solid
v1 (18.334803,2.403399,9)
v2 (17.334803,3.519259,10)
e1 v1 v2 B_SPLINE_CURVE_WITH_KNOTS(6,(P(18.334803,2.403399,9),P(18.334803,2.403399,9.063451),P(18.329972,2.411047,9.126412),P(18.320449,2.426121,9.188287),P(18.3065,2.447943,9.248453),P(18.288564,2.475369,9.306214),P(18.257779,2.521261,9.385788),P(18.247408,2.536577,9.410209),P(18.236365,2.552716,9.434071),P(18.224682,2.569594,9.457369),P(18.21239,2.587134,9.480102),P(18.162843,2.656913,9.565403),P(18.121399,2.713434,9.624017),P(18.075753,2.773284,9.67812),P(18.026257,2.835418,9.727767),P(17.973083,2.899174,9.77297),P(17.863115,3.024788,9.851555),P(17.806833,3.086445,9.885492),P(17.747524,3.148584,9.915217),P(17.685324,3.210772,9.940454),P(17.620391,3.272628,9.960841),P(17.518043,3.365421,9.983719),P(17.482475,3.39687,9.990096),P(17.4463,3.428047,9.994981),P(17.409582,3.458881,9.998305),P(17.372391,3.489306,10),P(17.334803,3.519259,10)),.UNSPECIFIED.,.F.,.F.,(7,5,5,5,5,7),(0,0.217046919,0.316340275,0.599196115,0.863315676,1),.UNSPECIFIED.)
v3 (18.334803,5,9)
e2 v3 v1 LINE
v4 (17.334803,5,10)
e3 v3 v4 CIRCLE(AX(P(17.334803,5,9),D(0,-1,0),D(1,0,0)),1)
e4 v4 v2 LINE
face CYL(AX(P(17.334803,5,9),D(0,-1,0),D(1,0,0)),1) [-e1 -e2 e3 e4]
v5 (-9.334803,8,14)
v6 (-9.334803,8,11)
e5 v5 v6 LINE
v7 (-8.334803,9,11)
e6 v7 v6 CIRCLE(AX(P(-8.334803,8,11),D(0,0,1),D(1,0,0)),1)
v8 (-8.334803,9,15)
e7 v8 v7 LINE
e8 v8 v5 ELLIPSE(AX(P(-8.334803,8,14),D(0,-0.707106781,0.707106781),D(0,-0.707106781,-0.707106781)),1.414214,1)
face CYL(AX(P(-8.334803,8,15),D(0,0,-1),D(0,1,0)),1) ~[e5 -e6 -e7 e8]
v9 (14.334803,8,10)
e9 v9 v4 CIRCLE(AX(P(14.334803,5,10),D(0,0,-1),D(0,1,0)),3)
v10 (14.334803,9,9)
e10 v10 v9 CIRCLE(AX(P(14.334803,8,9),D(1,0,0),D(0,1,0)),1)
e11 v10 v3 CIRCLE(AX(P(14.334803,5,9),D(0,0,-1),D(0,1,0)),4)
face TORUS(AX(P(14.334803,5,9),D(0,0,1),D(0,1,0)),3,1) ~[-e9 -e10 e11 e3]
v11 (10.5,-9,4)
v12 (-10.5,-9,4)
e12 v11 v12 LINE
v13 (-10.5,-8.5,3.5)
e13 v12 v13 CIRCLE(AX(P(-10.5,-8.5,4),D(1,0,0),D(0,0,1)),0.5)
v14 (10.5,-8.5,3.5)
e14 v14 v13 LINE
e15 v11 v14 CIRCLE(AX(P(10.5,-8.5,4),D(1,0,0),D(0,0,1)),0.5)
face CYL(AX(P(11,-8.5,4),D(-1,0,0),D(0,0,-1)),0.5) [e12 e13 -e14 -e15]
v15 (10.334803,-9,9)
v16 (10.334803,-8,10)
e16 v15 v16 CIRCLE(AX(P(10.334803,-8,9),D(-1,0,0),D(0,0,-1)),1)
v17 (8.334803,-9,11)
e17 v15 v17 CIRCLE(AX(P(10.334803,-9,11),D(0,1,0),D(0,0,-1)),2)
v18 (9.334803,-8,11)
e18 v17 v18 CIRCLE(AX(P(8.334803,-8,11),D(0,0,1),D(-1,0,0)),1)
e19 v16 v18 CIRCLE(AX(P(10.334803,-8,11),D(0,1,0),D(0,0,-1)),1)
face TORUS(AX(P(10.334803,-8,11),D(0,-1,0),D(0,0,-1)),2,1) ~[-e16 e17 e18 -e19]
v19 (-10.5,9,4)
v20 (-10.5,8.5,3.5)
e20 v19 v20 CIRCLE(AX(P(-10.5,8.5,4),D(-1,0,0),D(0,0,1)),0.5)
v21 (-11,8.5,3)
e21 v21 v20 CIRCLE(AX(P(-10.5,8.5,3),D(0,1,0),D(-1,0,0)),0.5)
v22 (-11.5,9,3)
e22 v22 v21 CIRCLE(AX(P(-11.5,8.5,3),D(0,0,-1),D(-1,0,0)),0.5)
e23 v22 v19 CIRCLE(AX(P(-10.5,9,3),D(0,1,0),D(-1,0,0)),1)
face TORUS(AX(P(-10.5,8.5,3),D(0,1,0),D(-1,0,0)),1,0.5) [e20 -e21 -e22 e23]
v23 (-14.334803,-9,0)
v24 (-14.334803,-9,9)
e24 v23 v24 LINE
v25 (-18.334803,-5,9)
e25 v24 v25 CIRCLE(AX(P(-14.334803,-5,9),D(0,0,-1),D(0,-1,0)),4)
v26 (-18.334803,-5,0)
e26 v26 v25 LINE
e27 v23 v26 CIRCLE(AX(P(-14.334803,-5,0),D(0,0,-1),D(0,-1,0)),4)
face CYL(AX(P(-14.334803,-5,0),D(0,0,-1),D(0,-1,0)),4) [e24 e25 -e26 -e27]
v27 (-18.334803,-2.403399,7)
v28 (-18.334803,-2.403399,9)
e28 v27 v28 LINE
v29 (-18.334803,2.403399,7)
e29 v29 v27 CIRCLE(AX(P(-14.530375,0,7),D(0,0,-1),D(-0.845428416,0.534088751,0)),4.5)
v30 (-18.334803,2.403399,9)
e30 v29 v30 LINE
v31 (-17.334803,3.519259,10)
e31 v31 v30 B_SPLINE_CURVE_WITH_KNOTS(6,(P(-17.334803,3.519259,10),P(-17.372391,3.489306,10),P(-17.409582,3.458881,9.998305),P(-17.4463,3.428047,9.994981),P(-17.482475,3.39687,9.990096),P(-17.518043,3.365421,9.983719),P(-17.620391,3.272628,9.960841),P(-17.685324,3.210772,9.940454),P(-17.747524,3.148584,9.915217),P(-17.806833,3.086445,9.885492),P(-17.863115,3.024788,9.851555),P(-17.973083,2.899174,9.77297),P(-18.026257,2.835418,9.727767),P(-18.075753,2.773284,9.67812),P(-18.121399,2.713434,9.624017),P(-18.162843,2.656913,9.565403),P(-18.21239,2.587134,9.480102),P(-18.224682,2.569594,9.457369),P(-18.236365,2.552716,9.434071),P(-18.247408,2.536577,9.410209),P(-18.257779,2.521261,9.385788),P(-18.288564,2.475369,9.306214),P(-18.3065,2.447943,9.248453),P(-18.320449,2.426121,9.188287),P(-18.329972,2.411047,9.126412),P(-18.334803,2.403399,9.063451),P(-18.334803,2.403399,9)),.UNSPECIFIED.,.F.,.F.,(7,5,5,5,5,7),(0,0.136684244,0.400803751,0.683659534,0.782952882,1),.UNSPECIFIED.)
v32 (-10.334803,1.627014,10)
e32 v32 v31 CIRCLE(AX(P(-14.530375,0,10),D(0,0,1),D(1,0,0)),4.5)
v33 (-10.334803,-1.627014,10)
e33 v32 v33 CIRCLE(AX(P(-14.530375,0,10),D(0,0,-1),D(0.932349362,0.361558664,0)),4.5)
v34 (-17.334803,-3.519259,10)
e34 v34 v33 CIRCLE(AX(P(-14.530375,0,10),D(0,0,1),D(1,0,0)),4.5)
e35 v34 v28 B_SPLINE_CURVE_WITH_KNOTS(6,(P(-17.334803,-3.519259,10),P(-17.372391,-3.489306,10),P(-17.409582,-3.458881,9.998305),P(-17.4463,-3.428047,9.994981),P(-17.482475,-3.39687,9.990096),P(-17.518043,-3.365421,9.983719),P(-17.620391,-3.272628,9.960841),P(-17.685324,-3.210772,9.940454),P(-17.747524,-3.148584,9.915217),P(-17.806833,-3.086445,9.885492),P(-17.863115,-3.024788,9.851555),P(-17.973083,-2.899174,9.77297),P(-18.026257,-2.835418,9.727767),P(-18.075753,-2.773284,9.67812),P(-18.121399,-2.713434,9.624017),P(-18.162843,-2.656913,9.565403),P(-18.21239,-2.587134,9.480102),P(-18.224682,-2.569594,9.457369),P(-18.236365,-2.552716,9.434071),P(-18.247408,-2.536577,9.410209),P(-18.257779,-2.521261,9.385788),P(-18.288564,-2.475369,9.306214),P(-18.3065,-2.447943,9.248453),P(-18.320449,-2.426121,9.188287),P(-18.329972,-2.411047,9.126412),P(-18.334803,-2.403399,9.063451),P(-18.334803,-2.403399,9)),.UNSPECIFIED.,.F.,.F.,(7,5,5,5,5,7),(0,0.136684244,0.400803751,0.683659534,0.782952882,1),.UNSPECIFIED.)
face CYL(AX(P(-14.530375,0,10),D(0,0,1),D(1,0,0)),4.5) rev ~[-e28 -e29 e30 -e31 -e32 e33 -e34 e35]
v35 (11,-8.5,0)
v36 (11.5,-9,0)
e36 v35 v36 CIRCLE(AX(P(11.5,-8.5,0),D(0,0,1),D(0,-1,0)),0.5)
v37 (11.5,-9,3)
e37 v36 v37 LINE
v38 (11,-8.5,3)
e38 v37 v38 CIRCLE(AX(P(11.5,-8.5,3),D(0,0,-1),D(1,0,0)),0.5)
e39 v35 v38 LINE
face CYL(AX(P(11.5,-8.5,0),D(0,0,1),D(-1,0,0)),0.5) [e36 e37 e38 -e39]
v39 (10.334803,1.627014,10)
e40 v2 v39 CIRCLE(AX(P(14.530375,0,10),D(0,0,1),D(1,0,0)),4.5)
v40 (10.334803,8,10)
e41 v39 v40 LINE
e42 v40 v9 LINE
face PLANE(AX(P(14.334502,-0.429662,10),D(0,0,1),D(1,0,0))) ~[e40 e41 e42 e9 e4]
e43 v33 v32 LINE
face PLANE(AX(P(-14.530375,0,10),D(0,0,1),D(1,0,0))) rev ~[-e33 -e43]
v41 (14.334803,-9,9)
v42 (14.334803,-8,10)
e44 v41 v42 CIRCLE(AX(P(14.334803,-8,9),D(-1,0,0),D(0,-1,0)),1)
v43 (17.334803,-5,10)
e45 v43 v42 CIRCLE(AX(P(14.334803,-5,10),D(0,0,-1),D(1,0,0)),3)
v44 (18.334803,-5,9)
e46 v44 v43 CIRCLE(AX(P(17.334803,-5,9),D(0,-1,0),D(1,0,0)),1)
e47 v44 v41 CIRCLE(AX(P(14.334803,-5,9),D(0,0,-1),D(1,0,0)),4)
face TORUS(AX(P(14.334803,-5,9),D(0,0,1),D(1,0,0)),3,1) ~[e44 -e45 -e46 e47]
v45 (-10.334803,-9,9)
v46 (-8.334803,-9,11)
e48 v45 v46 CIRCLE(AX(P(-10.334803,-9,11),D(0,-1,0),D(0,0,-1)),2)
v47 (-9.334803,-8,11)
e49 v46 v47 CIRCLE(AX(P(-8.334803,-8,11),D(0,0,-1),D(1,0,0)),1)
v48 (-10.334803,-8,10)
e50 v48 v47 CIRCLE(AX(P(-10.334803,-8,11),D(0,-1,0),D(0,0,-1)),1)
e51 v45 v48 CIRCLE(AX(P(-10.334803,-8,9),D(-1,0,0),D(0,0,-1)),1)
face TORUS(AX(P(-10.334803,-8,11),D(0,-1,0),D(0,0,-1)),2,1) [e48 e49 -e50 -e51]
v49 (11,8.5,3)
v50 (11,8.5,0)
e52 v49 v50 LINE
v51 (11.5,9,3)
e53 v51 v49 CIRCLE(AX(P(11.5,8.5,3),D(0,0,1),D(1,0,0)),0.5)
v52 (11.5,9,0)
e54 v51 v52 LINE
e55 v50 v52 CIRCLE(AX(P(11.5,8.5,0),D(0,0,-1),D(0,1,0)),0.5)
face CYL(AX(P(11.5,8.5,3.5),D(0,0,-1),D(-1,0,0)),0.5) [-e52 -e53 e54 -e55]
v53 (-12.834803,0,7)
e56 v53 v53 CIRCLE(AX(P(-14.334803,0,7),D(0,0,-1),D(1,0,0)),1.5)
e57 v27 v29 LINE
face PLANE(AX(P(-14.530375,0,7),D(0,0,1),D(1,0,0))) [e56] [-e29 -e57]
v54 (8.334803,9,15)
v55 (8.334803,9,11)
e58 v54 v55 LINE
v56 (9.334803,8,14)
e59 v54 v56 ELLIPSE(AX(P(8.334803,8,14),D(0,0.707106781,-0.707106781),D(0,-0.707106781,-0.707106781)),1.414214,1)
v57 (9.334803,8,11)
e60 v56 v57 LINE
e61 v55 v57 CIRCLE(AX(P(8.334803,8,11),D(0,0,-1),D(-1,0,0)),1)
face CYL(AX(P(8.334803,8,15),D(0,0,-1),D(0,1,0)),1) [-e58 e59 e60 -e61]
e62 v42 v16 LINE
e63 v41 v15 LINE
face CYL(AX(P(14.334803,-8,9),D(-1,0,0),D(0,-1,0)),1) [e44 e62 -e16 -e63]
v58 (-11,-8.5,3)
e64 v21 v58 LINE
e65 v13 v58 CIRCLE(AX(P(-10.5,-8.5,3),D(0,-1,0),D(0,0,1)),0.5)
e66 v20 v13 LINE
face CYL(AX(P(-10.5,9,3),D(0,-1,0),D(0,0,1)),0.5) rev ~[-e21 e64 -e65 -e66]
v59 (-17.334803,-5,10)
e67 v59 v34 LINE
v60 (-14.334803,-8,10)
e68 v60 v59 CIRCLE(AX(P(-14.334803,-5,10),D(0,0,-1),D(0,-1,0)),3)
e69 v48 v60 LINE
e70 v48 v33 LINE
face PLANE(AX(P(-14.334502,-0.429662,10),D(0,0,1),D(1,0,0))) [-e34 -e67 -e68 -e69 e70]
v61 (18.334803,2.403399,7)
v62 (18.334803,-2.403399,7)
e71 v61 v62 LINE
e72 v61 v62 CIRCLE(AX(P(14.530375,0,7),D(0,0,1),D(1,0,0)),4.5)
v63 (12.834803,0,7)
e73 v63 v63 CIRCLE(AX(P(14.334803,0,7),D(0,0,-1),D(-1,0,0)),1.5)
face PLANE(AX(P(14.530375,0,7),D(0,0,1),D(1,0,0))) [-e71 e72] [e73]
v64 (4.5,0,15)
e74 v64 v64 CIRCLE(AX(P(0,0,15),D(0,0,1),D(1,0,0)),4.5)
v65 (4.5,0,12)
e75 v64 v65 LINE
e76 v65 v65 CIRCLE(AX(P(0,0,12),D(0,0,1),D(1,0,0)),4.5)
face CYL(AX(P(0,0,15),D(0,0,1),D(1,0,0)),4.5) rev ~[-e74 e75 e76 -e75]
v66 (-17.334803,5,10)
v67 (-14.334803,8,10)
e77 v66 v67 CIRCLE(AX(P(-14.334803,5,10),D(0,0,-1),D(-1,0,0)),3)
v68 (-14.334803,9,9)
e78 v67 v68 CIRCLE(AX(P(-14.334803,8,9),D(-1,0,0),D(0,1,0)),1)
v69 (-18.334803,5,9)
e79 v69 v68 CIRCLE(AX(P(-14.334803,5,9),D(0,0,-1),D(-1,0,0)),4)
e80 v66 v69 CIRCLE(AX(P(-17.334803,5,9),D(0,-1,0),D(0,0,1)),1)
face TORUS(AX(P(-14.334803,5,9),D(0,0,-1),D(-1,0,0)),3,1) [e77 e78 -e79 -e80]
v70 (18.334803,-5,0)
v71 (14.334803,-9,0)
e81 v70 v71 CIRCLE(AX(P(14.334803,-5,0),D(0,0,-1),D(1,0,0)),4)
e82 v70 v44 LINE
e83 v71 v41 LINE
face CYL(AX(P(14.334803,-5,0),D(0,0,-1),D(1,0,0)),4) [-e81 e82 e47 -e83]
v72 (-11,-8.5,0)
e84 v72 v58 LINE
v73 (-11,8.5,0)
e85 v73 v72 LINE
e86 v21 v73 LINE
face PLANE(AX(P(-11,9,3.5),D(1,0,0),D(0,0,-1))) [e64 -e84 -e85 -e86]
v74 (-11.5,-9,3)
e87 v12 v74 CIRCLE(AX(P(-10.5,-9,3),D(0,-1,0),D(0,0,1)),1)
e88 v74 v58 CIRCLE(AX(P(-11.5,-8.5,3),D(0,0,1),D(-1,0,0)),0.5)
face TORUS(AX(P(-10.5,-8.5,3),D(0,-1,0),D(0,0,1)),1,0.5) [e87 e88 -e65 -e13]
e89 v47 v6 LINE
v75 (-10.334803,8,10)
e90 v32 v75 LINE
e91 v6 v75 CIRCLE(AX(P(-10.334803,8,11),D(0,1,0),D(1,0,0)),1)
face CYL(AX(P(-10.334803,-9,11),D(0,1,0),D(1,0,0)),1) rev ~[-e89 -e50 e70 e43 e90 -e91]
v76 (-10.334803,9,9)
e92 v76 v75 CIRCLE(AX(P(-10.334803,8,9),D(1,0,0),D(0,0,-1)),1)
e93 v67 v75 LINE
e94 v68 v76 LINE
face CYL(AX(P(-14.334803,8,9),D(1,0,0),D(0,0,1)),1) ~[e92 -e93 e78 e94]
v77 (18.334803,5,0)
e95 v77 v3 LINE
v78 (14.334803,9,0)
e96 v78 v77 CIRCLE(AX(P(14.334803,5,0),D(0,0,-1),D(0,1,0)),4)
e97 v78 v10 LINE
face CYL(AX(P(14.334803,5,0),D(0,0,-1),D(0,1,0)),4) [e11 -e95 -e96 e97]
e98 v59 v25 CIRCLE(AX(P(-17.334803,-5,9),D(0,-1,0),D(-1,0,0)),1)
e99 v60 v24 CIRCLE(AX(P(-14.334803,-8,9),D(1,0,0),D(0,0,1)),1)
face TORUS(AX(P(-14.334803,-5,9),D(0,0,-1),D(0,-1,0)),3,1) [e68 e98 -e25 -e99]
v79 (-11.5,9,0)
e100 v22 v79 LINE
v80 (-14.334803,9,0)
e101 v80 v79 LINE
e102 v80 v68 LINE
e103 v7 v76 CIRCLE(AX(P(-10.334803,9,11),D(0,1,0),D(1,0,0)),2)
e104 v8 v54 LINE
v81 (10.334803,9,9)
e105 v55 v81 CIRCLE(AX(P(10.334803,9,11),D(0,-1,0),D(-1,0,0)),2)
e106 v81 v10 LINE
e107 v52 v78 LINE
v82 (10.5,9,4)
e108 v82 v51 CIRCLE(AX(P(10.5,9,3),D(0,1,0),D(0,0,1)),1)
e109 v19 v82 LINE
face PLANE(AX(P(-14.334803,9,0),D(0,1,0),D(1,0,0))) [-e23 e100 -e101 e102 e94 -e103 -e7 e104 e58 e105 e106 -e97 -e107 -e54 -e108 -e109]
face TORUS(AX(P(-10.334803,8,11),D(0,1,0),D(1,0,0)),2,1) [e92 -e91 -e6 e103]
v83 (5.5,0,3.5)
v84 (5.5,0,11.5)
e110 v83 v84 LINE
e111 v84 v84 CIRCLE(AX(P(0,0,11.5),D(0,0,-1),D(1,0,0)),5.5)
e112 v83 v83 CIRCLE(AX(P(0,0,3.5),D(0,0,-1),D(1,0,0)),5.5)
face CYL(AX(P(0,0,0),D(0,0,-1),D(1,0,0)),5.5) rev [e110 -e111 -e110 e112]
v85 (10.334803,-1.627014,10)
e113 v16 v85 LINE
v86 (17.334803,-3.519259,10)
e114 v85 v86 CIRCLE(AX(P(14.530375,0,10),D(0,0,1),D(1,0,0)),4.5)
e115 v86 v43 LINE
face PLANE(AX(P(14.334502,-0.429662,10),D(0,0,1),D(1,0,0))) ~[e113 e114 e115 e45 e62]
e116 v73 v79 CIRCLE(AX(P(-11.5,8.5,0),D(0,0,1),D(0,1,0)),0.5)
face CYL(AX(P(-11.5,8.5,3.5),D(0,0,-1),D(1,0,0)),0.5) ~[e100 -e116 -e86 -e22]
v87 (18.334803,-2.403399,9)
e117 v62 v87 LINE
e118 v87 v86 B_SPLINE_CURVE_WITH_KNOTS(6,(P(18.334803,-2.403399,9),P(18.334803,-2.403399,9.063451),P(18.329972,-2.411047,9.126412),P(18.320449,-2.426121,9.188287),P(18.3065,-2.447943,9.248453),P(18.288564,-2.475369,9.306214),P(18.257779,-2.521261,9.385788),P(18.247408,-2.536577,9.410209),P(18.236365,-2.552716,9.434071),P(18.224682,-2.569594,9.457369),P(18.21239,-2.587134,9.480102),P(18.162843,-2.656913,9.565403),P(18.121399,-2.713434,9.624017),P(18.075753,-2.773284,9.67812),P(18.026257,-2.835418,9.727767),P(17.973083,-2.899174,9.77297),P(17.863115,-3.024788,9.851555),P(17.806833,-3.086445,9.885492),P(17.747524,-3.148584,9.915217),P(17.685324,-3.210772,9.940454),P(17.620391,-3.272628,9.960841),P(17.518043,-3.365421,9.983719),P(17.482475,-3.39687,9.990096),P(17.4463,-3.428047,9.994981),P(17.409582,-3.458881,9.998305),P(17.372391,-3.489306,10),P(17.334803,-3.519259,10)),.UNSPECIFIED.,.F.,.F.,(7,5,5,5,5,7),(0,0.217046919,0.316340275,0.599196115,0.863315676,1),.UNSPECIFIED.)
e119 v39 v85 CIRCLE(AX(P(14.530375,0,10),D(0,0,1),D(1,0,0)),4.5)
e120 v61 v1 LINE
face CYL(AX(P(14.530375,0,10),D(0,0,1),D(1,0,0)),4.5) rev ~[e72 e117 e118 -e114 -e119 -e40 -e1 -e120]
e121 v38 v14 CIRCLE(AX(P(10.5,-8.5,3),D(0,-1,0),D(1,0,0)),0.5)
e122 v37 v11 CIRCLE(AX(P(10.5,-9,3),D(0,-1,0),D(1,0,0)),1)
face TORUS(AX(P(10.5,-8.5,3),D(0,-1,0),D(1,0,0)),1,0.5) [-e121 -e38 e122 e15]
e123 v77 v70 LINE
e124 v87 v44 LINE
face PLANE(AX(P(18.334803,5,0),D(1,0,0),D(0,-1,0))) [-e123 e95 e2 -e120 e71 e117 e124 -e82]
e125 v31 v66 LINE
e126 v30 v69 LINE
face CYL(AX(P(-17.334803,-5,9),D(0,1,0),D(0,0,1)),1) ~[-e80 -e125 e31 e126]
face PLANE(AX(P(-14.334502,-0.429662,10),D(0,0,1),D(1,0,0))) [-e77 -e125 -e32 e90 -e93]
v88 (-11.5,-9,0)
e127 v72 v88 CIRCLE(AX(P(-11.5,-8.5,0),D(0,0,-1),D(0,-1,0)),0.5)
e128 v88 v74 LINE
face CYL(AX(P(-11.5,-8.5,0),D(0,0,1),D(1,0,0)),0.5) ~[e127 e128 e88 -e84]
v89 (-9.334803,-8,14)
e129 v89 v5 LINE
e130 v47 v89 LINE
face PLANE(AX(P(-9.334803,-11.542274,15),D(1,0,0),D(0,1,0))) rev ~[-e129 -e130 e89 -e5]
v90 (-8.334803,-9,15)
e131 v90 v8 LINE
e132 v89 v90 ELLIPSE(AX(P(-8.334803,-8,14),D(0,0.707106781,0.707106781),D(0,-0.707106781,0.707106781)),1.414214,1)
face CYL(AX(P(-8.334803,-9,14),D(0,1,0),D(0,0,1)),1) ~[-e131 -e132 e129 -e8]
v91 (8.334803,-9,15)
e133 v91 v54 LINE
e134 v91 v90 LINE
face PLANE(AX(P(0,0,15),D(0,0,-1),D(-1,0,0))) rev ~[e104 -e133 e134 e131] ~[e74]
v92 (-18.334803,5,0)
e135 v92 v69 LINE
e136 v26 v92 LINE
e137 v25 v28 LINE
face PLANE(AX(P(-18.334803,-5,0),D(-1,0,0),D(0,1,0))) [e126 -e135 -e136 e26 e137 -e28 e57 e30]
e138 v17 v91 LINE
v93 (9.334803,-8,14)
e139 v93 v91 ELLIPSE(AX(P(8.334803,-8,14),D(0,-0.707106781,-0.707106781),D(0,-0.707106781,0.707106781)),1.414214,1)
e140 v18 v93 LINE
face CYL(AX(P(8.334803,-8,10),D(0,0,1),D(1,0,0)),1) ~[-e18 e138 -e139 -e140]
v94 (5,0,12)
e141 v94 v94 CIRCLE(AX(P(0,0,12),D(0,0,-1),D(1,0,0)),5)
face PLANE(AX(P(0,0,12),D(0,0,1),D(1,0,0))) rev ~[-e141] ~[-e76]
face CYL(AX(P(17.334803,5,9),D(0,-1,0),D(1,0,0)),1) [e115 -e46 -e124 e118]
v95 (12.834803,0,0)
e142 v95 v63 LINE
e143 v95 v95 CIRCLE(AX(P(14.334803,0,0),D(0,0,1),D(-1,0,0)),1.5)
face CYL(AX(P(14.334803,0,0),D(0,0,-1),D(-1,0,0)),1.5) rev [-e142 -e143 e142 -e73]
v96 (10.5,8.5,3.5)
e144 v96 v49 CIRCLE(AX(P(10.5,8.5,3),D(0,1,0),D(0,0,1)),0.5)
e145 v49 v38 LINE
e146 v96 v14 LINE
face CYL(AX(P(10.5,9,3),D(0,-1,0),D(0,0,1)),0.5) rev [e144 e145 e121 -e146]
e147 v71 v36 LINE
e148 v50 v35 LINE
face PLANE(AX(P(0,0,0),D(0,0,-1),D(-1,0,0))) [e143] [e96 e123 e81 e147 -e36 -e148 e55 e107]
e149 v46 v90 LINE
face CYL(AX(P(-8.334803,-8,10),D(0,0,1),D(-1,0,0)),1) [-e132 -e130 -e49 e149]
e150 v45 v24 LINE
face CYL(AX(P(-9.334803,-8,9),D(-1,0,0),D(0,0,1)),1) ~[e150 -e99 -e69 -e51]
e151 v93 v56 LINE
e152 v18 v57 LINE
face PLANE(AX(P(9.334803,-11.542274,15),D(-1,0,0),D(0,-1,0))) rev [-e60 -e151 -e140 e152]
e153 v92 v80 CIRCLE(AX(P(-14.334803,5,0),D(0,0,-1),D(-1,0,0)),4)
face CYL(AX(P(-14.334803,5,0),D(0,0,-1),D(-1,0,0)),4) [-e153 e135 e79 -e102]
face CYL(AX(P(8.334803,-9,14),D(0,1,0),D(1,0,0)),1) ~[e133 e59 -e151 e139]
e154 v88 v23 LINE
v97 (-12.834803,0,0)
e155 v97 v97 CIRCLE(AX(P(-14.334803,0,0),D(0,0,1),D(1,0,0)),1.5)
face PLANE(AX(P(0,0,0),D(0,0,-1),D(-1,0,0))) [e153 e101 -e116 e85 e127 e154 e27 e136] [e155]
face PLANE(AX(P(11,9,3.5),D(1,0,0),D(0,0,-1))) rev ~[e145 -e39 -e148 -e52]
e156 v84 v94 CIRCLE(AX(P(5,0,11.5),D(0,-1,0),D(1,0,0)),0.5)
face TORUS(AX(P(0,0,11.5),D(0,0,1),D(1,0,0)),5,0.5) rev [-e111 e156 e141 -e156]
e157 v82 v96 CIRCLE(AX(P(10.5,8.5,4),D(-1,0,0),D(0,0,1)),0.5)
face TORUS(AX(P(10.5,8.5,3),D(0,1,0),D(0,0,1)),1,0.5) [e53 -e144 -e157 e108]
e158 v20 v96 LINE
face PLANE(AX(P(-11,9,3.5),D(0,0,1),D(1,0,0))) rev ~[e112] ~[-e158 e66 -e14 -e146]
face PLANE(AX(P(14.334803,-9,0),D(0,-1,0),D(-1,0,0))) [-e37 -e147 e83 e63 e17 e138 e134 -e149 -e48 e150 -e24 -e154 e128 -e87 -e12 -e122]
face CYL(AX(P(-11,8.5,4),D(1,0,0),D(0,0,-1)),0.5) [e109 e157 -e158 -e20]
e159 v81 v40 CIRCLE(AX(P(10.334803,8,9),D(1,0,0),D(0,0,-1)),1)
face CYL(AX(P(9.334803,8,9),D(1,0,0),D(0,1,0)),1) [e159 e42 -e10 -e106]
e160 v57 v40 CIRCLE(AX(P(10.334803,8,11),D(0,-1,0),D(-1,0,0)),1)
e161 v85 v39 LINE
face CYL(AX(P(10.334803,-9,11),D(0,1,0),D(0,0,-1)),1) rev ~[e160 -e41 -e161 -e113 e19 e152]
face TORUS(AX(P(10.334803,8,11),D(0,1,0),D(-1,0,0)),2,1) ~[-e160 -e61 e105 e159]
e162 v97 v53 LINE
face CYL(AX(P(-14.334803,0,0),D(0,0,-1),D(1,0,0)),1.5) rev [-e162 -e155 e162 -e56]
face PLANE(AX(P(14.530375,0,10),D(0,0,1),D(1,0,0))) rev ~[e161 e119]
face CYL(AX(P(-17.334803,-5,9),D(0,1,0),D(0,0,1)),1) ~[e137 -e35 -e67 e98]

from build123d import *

# Parameters (mm, degrees)
SKETCH1_R            = 5.5
SKETCH1_R_2          = 1.5
BOSS_EXTRUDE1_DEPTH  = 15
SKETCH3_W            = 9.999397818
SKETCH3_H            = 22.225224056
CUT_EXTRUDE1_DEPTH   = 5
FILLET1_R            = 1
FILLET1_OF_MIRROR1_R = 1
SKETCH4_R            = 7.5
BOSS_EXTRUDE2_DEPTH  = 3
SKETCH5_W            = 22
SKETCH5_H            = 7
CUT_EXTRUDE2_DEPTH   = 30.75172255
SKETCH6_R            = 4.5
CUT_EXTRUDE3_DEPTH   = 26.34097462
SKETCH7_R            = 4.5
CUT_EXTRUDE8_DEPTH   = 3
FILLET3_R            = 0.5
FILLET2_R            = 0.5


with BuildPart() as part:
    # Sketch1 → Boss-Extrude1 (new body)
    with BuildSketch(Plane.XY):
        with BuildLine():
            Line((-14.334802826, 9), (14.334802826, 9))
            ThreePointArc((14.334802826, 9), (17.163229951, 7.828427125), (18.334802826, 5))
            Line((18.334802826, 5), (18.334802826, -5))
            ThreePointArc((18.334802826, -5), (17.163229951, -7.828427125), (14.334802826, -9))
            Line((14.334802826, -9), (-14.334802826, -9))
            ThreePointArc((-14.334802826, -9), (-17.163229951, -7.828427125), (-18.334802826, -5))
            Line((-18.334802826, -5), (-18.334802826, 5))
            ThreePointArc((-18.334802826, 5), (-17.163229951, 7.828427125), (-14.334802826, 9))
        make_face()
        Circle(SKETCH1_R, mode=Mode.SUBTRACT)
        with Locations((-14.334802826, 0)):
            Circle(SKETCH1_R_2, mode=Mode.SUBTRACT)
        with Locations(Location((14.334802826, 0, 0), (0, 0, 180))):
            Circle(SKETCH1_R_2, mode=Mode.SUBTRACT)
    extrude(amount=BOSS_EXTRUDE1_DEPTH)

    # Sketch3 → Cut-Extrude1 (cut)
    with BuildSketch(Plane.XY.offset(15)):
        with Locations((-14.334501735, -0.429661625)):
            Rectangle(SKETCH3_W, SKETCH3_H)
    cut_extrude1 = extrude(amount=-CUT_EXTRUDE1_DEPTH, mode=Mode.SUBTRACT)

    # Fillet1
    fillet1_edges = [part.edges().sort_by_distance(p)[0] for p in [
        (-9.334802826, -9, 12.5),
        (-9.334802826, 0, 10),
        (-9.334802826, 9, 12.5),
        (-17.163229951, 7.828427125, 10),
        (-11.834802826, 9, 10),
        (-11.834802826, -9, 10),
        (-17.163229951, -7.828427125, 10),
        (-18.334802826, 0, 10),
        (-9.334802826, 0, 15),
    ]]
    fillet(fillet1_edges, radius=FILLET1_R)

    # Mirror1: Cut-Extrude1 across plane
    add(cut_extrude1.mirror(Plane(origin=(0, 0, 0), x_dir=(0, 0, 1), z_dir=(1, 0, 0))), mode=Mode.SUBTRACT)

    # Fillet1 of Mirror1
    fillet1_of_mirror1_edges = [part.edges().sort_by_distance(p)[0] for p in [
        (9.334802826, -9, 12.5),
        (9.334802826, 0, 10),
        (9.334802826, 9, 12.5),
        (17.163229951, 7.828427125, 10),
        (11.834802826, 9, 10),
        (11.834802826, -9, 10),
        (17.163229951, -7.828427125, 10),
        (18.334802826, 0, 10),
        (9.334802826, 0, 15),
    ]]
    fillet(fillet1_of_mirror1_edges, radius=FILLET1_OF_MIRROR1_R)

    # Sketch4 → Boss-Extrude2 (add)
    with BuildSketch(Plane.XY.offset(15)):
        Circle(SKETCH4_R)
    extrude(amount=-BOSS_EXTRUDE2_DEPTH)

    # Sketch5 → Cut-Extrude2 (cut, through all)
    with BuildSketch(Plane(origin=(0, 9, 0), x_dir=(1, 0, 0), z_dir=(0, 1, 0))):
        Rectangle(SKETCH5_W, SKETCH5_H)
    extrude(amount=-CUT_EXTRUDE2_DEPTH, mode=Mode.SUBTRACT)

    # Sketch6 → Cut-Extrude3 (cut, through all)
    with BuildSketch(Plane.XY.offset(15)):
        Circle(SKETCH6_R)
    extrude(amount=-CUT_EXTRUDE3_DEPTH, mode=Mode.SUBTRACT)

    # Sketch7 → Cut-Extrude8 (cut)
    with BuildSketch(Plane.XY.offset(10)):
        with Locations((-14.530374954, 0)):
            Circle(SKETCH7_R)
        with Locations((14.530374954, 0)):
            Circle(SKETCH7_R)
    extrude(amount=-CUT_EXTRUDE8_DEPTH, mode=Mode.SUBTRACT)

    # Fillet3
    fillet3_edges = [part.edges().sort_by_distance(p)[0] for p in [
        (11, -9, 1.75),
        (0, -9, 3.5),
        (11, 0, 3.5),
        (-11, -9, 1.75),
        (-11, 0, 3.5),
        (-11, 9, 1.75),
        (0, 9, 3.5),
        (11, 9, 1.75),
    ]]
    fillet(fillet3_edges, radius=FILLET3_R)

    # Fillet2
    fillet2_edges = [part.edges().sort_by_distance(p)[0] for p in [
        (-5.5, 0, 12),
    ]]
    fillet(fillet2_edges, radius=FILLET2_R)


solid = part.part
